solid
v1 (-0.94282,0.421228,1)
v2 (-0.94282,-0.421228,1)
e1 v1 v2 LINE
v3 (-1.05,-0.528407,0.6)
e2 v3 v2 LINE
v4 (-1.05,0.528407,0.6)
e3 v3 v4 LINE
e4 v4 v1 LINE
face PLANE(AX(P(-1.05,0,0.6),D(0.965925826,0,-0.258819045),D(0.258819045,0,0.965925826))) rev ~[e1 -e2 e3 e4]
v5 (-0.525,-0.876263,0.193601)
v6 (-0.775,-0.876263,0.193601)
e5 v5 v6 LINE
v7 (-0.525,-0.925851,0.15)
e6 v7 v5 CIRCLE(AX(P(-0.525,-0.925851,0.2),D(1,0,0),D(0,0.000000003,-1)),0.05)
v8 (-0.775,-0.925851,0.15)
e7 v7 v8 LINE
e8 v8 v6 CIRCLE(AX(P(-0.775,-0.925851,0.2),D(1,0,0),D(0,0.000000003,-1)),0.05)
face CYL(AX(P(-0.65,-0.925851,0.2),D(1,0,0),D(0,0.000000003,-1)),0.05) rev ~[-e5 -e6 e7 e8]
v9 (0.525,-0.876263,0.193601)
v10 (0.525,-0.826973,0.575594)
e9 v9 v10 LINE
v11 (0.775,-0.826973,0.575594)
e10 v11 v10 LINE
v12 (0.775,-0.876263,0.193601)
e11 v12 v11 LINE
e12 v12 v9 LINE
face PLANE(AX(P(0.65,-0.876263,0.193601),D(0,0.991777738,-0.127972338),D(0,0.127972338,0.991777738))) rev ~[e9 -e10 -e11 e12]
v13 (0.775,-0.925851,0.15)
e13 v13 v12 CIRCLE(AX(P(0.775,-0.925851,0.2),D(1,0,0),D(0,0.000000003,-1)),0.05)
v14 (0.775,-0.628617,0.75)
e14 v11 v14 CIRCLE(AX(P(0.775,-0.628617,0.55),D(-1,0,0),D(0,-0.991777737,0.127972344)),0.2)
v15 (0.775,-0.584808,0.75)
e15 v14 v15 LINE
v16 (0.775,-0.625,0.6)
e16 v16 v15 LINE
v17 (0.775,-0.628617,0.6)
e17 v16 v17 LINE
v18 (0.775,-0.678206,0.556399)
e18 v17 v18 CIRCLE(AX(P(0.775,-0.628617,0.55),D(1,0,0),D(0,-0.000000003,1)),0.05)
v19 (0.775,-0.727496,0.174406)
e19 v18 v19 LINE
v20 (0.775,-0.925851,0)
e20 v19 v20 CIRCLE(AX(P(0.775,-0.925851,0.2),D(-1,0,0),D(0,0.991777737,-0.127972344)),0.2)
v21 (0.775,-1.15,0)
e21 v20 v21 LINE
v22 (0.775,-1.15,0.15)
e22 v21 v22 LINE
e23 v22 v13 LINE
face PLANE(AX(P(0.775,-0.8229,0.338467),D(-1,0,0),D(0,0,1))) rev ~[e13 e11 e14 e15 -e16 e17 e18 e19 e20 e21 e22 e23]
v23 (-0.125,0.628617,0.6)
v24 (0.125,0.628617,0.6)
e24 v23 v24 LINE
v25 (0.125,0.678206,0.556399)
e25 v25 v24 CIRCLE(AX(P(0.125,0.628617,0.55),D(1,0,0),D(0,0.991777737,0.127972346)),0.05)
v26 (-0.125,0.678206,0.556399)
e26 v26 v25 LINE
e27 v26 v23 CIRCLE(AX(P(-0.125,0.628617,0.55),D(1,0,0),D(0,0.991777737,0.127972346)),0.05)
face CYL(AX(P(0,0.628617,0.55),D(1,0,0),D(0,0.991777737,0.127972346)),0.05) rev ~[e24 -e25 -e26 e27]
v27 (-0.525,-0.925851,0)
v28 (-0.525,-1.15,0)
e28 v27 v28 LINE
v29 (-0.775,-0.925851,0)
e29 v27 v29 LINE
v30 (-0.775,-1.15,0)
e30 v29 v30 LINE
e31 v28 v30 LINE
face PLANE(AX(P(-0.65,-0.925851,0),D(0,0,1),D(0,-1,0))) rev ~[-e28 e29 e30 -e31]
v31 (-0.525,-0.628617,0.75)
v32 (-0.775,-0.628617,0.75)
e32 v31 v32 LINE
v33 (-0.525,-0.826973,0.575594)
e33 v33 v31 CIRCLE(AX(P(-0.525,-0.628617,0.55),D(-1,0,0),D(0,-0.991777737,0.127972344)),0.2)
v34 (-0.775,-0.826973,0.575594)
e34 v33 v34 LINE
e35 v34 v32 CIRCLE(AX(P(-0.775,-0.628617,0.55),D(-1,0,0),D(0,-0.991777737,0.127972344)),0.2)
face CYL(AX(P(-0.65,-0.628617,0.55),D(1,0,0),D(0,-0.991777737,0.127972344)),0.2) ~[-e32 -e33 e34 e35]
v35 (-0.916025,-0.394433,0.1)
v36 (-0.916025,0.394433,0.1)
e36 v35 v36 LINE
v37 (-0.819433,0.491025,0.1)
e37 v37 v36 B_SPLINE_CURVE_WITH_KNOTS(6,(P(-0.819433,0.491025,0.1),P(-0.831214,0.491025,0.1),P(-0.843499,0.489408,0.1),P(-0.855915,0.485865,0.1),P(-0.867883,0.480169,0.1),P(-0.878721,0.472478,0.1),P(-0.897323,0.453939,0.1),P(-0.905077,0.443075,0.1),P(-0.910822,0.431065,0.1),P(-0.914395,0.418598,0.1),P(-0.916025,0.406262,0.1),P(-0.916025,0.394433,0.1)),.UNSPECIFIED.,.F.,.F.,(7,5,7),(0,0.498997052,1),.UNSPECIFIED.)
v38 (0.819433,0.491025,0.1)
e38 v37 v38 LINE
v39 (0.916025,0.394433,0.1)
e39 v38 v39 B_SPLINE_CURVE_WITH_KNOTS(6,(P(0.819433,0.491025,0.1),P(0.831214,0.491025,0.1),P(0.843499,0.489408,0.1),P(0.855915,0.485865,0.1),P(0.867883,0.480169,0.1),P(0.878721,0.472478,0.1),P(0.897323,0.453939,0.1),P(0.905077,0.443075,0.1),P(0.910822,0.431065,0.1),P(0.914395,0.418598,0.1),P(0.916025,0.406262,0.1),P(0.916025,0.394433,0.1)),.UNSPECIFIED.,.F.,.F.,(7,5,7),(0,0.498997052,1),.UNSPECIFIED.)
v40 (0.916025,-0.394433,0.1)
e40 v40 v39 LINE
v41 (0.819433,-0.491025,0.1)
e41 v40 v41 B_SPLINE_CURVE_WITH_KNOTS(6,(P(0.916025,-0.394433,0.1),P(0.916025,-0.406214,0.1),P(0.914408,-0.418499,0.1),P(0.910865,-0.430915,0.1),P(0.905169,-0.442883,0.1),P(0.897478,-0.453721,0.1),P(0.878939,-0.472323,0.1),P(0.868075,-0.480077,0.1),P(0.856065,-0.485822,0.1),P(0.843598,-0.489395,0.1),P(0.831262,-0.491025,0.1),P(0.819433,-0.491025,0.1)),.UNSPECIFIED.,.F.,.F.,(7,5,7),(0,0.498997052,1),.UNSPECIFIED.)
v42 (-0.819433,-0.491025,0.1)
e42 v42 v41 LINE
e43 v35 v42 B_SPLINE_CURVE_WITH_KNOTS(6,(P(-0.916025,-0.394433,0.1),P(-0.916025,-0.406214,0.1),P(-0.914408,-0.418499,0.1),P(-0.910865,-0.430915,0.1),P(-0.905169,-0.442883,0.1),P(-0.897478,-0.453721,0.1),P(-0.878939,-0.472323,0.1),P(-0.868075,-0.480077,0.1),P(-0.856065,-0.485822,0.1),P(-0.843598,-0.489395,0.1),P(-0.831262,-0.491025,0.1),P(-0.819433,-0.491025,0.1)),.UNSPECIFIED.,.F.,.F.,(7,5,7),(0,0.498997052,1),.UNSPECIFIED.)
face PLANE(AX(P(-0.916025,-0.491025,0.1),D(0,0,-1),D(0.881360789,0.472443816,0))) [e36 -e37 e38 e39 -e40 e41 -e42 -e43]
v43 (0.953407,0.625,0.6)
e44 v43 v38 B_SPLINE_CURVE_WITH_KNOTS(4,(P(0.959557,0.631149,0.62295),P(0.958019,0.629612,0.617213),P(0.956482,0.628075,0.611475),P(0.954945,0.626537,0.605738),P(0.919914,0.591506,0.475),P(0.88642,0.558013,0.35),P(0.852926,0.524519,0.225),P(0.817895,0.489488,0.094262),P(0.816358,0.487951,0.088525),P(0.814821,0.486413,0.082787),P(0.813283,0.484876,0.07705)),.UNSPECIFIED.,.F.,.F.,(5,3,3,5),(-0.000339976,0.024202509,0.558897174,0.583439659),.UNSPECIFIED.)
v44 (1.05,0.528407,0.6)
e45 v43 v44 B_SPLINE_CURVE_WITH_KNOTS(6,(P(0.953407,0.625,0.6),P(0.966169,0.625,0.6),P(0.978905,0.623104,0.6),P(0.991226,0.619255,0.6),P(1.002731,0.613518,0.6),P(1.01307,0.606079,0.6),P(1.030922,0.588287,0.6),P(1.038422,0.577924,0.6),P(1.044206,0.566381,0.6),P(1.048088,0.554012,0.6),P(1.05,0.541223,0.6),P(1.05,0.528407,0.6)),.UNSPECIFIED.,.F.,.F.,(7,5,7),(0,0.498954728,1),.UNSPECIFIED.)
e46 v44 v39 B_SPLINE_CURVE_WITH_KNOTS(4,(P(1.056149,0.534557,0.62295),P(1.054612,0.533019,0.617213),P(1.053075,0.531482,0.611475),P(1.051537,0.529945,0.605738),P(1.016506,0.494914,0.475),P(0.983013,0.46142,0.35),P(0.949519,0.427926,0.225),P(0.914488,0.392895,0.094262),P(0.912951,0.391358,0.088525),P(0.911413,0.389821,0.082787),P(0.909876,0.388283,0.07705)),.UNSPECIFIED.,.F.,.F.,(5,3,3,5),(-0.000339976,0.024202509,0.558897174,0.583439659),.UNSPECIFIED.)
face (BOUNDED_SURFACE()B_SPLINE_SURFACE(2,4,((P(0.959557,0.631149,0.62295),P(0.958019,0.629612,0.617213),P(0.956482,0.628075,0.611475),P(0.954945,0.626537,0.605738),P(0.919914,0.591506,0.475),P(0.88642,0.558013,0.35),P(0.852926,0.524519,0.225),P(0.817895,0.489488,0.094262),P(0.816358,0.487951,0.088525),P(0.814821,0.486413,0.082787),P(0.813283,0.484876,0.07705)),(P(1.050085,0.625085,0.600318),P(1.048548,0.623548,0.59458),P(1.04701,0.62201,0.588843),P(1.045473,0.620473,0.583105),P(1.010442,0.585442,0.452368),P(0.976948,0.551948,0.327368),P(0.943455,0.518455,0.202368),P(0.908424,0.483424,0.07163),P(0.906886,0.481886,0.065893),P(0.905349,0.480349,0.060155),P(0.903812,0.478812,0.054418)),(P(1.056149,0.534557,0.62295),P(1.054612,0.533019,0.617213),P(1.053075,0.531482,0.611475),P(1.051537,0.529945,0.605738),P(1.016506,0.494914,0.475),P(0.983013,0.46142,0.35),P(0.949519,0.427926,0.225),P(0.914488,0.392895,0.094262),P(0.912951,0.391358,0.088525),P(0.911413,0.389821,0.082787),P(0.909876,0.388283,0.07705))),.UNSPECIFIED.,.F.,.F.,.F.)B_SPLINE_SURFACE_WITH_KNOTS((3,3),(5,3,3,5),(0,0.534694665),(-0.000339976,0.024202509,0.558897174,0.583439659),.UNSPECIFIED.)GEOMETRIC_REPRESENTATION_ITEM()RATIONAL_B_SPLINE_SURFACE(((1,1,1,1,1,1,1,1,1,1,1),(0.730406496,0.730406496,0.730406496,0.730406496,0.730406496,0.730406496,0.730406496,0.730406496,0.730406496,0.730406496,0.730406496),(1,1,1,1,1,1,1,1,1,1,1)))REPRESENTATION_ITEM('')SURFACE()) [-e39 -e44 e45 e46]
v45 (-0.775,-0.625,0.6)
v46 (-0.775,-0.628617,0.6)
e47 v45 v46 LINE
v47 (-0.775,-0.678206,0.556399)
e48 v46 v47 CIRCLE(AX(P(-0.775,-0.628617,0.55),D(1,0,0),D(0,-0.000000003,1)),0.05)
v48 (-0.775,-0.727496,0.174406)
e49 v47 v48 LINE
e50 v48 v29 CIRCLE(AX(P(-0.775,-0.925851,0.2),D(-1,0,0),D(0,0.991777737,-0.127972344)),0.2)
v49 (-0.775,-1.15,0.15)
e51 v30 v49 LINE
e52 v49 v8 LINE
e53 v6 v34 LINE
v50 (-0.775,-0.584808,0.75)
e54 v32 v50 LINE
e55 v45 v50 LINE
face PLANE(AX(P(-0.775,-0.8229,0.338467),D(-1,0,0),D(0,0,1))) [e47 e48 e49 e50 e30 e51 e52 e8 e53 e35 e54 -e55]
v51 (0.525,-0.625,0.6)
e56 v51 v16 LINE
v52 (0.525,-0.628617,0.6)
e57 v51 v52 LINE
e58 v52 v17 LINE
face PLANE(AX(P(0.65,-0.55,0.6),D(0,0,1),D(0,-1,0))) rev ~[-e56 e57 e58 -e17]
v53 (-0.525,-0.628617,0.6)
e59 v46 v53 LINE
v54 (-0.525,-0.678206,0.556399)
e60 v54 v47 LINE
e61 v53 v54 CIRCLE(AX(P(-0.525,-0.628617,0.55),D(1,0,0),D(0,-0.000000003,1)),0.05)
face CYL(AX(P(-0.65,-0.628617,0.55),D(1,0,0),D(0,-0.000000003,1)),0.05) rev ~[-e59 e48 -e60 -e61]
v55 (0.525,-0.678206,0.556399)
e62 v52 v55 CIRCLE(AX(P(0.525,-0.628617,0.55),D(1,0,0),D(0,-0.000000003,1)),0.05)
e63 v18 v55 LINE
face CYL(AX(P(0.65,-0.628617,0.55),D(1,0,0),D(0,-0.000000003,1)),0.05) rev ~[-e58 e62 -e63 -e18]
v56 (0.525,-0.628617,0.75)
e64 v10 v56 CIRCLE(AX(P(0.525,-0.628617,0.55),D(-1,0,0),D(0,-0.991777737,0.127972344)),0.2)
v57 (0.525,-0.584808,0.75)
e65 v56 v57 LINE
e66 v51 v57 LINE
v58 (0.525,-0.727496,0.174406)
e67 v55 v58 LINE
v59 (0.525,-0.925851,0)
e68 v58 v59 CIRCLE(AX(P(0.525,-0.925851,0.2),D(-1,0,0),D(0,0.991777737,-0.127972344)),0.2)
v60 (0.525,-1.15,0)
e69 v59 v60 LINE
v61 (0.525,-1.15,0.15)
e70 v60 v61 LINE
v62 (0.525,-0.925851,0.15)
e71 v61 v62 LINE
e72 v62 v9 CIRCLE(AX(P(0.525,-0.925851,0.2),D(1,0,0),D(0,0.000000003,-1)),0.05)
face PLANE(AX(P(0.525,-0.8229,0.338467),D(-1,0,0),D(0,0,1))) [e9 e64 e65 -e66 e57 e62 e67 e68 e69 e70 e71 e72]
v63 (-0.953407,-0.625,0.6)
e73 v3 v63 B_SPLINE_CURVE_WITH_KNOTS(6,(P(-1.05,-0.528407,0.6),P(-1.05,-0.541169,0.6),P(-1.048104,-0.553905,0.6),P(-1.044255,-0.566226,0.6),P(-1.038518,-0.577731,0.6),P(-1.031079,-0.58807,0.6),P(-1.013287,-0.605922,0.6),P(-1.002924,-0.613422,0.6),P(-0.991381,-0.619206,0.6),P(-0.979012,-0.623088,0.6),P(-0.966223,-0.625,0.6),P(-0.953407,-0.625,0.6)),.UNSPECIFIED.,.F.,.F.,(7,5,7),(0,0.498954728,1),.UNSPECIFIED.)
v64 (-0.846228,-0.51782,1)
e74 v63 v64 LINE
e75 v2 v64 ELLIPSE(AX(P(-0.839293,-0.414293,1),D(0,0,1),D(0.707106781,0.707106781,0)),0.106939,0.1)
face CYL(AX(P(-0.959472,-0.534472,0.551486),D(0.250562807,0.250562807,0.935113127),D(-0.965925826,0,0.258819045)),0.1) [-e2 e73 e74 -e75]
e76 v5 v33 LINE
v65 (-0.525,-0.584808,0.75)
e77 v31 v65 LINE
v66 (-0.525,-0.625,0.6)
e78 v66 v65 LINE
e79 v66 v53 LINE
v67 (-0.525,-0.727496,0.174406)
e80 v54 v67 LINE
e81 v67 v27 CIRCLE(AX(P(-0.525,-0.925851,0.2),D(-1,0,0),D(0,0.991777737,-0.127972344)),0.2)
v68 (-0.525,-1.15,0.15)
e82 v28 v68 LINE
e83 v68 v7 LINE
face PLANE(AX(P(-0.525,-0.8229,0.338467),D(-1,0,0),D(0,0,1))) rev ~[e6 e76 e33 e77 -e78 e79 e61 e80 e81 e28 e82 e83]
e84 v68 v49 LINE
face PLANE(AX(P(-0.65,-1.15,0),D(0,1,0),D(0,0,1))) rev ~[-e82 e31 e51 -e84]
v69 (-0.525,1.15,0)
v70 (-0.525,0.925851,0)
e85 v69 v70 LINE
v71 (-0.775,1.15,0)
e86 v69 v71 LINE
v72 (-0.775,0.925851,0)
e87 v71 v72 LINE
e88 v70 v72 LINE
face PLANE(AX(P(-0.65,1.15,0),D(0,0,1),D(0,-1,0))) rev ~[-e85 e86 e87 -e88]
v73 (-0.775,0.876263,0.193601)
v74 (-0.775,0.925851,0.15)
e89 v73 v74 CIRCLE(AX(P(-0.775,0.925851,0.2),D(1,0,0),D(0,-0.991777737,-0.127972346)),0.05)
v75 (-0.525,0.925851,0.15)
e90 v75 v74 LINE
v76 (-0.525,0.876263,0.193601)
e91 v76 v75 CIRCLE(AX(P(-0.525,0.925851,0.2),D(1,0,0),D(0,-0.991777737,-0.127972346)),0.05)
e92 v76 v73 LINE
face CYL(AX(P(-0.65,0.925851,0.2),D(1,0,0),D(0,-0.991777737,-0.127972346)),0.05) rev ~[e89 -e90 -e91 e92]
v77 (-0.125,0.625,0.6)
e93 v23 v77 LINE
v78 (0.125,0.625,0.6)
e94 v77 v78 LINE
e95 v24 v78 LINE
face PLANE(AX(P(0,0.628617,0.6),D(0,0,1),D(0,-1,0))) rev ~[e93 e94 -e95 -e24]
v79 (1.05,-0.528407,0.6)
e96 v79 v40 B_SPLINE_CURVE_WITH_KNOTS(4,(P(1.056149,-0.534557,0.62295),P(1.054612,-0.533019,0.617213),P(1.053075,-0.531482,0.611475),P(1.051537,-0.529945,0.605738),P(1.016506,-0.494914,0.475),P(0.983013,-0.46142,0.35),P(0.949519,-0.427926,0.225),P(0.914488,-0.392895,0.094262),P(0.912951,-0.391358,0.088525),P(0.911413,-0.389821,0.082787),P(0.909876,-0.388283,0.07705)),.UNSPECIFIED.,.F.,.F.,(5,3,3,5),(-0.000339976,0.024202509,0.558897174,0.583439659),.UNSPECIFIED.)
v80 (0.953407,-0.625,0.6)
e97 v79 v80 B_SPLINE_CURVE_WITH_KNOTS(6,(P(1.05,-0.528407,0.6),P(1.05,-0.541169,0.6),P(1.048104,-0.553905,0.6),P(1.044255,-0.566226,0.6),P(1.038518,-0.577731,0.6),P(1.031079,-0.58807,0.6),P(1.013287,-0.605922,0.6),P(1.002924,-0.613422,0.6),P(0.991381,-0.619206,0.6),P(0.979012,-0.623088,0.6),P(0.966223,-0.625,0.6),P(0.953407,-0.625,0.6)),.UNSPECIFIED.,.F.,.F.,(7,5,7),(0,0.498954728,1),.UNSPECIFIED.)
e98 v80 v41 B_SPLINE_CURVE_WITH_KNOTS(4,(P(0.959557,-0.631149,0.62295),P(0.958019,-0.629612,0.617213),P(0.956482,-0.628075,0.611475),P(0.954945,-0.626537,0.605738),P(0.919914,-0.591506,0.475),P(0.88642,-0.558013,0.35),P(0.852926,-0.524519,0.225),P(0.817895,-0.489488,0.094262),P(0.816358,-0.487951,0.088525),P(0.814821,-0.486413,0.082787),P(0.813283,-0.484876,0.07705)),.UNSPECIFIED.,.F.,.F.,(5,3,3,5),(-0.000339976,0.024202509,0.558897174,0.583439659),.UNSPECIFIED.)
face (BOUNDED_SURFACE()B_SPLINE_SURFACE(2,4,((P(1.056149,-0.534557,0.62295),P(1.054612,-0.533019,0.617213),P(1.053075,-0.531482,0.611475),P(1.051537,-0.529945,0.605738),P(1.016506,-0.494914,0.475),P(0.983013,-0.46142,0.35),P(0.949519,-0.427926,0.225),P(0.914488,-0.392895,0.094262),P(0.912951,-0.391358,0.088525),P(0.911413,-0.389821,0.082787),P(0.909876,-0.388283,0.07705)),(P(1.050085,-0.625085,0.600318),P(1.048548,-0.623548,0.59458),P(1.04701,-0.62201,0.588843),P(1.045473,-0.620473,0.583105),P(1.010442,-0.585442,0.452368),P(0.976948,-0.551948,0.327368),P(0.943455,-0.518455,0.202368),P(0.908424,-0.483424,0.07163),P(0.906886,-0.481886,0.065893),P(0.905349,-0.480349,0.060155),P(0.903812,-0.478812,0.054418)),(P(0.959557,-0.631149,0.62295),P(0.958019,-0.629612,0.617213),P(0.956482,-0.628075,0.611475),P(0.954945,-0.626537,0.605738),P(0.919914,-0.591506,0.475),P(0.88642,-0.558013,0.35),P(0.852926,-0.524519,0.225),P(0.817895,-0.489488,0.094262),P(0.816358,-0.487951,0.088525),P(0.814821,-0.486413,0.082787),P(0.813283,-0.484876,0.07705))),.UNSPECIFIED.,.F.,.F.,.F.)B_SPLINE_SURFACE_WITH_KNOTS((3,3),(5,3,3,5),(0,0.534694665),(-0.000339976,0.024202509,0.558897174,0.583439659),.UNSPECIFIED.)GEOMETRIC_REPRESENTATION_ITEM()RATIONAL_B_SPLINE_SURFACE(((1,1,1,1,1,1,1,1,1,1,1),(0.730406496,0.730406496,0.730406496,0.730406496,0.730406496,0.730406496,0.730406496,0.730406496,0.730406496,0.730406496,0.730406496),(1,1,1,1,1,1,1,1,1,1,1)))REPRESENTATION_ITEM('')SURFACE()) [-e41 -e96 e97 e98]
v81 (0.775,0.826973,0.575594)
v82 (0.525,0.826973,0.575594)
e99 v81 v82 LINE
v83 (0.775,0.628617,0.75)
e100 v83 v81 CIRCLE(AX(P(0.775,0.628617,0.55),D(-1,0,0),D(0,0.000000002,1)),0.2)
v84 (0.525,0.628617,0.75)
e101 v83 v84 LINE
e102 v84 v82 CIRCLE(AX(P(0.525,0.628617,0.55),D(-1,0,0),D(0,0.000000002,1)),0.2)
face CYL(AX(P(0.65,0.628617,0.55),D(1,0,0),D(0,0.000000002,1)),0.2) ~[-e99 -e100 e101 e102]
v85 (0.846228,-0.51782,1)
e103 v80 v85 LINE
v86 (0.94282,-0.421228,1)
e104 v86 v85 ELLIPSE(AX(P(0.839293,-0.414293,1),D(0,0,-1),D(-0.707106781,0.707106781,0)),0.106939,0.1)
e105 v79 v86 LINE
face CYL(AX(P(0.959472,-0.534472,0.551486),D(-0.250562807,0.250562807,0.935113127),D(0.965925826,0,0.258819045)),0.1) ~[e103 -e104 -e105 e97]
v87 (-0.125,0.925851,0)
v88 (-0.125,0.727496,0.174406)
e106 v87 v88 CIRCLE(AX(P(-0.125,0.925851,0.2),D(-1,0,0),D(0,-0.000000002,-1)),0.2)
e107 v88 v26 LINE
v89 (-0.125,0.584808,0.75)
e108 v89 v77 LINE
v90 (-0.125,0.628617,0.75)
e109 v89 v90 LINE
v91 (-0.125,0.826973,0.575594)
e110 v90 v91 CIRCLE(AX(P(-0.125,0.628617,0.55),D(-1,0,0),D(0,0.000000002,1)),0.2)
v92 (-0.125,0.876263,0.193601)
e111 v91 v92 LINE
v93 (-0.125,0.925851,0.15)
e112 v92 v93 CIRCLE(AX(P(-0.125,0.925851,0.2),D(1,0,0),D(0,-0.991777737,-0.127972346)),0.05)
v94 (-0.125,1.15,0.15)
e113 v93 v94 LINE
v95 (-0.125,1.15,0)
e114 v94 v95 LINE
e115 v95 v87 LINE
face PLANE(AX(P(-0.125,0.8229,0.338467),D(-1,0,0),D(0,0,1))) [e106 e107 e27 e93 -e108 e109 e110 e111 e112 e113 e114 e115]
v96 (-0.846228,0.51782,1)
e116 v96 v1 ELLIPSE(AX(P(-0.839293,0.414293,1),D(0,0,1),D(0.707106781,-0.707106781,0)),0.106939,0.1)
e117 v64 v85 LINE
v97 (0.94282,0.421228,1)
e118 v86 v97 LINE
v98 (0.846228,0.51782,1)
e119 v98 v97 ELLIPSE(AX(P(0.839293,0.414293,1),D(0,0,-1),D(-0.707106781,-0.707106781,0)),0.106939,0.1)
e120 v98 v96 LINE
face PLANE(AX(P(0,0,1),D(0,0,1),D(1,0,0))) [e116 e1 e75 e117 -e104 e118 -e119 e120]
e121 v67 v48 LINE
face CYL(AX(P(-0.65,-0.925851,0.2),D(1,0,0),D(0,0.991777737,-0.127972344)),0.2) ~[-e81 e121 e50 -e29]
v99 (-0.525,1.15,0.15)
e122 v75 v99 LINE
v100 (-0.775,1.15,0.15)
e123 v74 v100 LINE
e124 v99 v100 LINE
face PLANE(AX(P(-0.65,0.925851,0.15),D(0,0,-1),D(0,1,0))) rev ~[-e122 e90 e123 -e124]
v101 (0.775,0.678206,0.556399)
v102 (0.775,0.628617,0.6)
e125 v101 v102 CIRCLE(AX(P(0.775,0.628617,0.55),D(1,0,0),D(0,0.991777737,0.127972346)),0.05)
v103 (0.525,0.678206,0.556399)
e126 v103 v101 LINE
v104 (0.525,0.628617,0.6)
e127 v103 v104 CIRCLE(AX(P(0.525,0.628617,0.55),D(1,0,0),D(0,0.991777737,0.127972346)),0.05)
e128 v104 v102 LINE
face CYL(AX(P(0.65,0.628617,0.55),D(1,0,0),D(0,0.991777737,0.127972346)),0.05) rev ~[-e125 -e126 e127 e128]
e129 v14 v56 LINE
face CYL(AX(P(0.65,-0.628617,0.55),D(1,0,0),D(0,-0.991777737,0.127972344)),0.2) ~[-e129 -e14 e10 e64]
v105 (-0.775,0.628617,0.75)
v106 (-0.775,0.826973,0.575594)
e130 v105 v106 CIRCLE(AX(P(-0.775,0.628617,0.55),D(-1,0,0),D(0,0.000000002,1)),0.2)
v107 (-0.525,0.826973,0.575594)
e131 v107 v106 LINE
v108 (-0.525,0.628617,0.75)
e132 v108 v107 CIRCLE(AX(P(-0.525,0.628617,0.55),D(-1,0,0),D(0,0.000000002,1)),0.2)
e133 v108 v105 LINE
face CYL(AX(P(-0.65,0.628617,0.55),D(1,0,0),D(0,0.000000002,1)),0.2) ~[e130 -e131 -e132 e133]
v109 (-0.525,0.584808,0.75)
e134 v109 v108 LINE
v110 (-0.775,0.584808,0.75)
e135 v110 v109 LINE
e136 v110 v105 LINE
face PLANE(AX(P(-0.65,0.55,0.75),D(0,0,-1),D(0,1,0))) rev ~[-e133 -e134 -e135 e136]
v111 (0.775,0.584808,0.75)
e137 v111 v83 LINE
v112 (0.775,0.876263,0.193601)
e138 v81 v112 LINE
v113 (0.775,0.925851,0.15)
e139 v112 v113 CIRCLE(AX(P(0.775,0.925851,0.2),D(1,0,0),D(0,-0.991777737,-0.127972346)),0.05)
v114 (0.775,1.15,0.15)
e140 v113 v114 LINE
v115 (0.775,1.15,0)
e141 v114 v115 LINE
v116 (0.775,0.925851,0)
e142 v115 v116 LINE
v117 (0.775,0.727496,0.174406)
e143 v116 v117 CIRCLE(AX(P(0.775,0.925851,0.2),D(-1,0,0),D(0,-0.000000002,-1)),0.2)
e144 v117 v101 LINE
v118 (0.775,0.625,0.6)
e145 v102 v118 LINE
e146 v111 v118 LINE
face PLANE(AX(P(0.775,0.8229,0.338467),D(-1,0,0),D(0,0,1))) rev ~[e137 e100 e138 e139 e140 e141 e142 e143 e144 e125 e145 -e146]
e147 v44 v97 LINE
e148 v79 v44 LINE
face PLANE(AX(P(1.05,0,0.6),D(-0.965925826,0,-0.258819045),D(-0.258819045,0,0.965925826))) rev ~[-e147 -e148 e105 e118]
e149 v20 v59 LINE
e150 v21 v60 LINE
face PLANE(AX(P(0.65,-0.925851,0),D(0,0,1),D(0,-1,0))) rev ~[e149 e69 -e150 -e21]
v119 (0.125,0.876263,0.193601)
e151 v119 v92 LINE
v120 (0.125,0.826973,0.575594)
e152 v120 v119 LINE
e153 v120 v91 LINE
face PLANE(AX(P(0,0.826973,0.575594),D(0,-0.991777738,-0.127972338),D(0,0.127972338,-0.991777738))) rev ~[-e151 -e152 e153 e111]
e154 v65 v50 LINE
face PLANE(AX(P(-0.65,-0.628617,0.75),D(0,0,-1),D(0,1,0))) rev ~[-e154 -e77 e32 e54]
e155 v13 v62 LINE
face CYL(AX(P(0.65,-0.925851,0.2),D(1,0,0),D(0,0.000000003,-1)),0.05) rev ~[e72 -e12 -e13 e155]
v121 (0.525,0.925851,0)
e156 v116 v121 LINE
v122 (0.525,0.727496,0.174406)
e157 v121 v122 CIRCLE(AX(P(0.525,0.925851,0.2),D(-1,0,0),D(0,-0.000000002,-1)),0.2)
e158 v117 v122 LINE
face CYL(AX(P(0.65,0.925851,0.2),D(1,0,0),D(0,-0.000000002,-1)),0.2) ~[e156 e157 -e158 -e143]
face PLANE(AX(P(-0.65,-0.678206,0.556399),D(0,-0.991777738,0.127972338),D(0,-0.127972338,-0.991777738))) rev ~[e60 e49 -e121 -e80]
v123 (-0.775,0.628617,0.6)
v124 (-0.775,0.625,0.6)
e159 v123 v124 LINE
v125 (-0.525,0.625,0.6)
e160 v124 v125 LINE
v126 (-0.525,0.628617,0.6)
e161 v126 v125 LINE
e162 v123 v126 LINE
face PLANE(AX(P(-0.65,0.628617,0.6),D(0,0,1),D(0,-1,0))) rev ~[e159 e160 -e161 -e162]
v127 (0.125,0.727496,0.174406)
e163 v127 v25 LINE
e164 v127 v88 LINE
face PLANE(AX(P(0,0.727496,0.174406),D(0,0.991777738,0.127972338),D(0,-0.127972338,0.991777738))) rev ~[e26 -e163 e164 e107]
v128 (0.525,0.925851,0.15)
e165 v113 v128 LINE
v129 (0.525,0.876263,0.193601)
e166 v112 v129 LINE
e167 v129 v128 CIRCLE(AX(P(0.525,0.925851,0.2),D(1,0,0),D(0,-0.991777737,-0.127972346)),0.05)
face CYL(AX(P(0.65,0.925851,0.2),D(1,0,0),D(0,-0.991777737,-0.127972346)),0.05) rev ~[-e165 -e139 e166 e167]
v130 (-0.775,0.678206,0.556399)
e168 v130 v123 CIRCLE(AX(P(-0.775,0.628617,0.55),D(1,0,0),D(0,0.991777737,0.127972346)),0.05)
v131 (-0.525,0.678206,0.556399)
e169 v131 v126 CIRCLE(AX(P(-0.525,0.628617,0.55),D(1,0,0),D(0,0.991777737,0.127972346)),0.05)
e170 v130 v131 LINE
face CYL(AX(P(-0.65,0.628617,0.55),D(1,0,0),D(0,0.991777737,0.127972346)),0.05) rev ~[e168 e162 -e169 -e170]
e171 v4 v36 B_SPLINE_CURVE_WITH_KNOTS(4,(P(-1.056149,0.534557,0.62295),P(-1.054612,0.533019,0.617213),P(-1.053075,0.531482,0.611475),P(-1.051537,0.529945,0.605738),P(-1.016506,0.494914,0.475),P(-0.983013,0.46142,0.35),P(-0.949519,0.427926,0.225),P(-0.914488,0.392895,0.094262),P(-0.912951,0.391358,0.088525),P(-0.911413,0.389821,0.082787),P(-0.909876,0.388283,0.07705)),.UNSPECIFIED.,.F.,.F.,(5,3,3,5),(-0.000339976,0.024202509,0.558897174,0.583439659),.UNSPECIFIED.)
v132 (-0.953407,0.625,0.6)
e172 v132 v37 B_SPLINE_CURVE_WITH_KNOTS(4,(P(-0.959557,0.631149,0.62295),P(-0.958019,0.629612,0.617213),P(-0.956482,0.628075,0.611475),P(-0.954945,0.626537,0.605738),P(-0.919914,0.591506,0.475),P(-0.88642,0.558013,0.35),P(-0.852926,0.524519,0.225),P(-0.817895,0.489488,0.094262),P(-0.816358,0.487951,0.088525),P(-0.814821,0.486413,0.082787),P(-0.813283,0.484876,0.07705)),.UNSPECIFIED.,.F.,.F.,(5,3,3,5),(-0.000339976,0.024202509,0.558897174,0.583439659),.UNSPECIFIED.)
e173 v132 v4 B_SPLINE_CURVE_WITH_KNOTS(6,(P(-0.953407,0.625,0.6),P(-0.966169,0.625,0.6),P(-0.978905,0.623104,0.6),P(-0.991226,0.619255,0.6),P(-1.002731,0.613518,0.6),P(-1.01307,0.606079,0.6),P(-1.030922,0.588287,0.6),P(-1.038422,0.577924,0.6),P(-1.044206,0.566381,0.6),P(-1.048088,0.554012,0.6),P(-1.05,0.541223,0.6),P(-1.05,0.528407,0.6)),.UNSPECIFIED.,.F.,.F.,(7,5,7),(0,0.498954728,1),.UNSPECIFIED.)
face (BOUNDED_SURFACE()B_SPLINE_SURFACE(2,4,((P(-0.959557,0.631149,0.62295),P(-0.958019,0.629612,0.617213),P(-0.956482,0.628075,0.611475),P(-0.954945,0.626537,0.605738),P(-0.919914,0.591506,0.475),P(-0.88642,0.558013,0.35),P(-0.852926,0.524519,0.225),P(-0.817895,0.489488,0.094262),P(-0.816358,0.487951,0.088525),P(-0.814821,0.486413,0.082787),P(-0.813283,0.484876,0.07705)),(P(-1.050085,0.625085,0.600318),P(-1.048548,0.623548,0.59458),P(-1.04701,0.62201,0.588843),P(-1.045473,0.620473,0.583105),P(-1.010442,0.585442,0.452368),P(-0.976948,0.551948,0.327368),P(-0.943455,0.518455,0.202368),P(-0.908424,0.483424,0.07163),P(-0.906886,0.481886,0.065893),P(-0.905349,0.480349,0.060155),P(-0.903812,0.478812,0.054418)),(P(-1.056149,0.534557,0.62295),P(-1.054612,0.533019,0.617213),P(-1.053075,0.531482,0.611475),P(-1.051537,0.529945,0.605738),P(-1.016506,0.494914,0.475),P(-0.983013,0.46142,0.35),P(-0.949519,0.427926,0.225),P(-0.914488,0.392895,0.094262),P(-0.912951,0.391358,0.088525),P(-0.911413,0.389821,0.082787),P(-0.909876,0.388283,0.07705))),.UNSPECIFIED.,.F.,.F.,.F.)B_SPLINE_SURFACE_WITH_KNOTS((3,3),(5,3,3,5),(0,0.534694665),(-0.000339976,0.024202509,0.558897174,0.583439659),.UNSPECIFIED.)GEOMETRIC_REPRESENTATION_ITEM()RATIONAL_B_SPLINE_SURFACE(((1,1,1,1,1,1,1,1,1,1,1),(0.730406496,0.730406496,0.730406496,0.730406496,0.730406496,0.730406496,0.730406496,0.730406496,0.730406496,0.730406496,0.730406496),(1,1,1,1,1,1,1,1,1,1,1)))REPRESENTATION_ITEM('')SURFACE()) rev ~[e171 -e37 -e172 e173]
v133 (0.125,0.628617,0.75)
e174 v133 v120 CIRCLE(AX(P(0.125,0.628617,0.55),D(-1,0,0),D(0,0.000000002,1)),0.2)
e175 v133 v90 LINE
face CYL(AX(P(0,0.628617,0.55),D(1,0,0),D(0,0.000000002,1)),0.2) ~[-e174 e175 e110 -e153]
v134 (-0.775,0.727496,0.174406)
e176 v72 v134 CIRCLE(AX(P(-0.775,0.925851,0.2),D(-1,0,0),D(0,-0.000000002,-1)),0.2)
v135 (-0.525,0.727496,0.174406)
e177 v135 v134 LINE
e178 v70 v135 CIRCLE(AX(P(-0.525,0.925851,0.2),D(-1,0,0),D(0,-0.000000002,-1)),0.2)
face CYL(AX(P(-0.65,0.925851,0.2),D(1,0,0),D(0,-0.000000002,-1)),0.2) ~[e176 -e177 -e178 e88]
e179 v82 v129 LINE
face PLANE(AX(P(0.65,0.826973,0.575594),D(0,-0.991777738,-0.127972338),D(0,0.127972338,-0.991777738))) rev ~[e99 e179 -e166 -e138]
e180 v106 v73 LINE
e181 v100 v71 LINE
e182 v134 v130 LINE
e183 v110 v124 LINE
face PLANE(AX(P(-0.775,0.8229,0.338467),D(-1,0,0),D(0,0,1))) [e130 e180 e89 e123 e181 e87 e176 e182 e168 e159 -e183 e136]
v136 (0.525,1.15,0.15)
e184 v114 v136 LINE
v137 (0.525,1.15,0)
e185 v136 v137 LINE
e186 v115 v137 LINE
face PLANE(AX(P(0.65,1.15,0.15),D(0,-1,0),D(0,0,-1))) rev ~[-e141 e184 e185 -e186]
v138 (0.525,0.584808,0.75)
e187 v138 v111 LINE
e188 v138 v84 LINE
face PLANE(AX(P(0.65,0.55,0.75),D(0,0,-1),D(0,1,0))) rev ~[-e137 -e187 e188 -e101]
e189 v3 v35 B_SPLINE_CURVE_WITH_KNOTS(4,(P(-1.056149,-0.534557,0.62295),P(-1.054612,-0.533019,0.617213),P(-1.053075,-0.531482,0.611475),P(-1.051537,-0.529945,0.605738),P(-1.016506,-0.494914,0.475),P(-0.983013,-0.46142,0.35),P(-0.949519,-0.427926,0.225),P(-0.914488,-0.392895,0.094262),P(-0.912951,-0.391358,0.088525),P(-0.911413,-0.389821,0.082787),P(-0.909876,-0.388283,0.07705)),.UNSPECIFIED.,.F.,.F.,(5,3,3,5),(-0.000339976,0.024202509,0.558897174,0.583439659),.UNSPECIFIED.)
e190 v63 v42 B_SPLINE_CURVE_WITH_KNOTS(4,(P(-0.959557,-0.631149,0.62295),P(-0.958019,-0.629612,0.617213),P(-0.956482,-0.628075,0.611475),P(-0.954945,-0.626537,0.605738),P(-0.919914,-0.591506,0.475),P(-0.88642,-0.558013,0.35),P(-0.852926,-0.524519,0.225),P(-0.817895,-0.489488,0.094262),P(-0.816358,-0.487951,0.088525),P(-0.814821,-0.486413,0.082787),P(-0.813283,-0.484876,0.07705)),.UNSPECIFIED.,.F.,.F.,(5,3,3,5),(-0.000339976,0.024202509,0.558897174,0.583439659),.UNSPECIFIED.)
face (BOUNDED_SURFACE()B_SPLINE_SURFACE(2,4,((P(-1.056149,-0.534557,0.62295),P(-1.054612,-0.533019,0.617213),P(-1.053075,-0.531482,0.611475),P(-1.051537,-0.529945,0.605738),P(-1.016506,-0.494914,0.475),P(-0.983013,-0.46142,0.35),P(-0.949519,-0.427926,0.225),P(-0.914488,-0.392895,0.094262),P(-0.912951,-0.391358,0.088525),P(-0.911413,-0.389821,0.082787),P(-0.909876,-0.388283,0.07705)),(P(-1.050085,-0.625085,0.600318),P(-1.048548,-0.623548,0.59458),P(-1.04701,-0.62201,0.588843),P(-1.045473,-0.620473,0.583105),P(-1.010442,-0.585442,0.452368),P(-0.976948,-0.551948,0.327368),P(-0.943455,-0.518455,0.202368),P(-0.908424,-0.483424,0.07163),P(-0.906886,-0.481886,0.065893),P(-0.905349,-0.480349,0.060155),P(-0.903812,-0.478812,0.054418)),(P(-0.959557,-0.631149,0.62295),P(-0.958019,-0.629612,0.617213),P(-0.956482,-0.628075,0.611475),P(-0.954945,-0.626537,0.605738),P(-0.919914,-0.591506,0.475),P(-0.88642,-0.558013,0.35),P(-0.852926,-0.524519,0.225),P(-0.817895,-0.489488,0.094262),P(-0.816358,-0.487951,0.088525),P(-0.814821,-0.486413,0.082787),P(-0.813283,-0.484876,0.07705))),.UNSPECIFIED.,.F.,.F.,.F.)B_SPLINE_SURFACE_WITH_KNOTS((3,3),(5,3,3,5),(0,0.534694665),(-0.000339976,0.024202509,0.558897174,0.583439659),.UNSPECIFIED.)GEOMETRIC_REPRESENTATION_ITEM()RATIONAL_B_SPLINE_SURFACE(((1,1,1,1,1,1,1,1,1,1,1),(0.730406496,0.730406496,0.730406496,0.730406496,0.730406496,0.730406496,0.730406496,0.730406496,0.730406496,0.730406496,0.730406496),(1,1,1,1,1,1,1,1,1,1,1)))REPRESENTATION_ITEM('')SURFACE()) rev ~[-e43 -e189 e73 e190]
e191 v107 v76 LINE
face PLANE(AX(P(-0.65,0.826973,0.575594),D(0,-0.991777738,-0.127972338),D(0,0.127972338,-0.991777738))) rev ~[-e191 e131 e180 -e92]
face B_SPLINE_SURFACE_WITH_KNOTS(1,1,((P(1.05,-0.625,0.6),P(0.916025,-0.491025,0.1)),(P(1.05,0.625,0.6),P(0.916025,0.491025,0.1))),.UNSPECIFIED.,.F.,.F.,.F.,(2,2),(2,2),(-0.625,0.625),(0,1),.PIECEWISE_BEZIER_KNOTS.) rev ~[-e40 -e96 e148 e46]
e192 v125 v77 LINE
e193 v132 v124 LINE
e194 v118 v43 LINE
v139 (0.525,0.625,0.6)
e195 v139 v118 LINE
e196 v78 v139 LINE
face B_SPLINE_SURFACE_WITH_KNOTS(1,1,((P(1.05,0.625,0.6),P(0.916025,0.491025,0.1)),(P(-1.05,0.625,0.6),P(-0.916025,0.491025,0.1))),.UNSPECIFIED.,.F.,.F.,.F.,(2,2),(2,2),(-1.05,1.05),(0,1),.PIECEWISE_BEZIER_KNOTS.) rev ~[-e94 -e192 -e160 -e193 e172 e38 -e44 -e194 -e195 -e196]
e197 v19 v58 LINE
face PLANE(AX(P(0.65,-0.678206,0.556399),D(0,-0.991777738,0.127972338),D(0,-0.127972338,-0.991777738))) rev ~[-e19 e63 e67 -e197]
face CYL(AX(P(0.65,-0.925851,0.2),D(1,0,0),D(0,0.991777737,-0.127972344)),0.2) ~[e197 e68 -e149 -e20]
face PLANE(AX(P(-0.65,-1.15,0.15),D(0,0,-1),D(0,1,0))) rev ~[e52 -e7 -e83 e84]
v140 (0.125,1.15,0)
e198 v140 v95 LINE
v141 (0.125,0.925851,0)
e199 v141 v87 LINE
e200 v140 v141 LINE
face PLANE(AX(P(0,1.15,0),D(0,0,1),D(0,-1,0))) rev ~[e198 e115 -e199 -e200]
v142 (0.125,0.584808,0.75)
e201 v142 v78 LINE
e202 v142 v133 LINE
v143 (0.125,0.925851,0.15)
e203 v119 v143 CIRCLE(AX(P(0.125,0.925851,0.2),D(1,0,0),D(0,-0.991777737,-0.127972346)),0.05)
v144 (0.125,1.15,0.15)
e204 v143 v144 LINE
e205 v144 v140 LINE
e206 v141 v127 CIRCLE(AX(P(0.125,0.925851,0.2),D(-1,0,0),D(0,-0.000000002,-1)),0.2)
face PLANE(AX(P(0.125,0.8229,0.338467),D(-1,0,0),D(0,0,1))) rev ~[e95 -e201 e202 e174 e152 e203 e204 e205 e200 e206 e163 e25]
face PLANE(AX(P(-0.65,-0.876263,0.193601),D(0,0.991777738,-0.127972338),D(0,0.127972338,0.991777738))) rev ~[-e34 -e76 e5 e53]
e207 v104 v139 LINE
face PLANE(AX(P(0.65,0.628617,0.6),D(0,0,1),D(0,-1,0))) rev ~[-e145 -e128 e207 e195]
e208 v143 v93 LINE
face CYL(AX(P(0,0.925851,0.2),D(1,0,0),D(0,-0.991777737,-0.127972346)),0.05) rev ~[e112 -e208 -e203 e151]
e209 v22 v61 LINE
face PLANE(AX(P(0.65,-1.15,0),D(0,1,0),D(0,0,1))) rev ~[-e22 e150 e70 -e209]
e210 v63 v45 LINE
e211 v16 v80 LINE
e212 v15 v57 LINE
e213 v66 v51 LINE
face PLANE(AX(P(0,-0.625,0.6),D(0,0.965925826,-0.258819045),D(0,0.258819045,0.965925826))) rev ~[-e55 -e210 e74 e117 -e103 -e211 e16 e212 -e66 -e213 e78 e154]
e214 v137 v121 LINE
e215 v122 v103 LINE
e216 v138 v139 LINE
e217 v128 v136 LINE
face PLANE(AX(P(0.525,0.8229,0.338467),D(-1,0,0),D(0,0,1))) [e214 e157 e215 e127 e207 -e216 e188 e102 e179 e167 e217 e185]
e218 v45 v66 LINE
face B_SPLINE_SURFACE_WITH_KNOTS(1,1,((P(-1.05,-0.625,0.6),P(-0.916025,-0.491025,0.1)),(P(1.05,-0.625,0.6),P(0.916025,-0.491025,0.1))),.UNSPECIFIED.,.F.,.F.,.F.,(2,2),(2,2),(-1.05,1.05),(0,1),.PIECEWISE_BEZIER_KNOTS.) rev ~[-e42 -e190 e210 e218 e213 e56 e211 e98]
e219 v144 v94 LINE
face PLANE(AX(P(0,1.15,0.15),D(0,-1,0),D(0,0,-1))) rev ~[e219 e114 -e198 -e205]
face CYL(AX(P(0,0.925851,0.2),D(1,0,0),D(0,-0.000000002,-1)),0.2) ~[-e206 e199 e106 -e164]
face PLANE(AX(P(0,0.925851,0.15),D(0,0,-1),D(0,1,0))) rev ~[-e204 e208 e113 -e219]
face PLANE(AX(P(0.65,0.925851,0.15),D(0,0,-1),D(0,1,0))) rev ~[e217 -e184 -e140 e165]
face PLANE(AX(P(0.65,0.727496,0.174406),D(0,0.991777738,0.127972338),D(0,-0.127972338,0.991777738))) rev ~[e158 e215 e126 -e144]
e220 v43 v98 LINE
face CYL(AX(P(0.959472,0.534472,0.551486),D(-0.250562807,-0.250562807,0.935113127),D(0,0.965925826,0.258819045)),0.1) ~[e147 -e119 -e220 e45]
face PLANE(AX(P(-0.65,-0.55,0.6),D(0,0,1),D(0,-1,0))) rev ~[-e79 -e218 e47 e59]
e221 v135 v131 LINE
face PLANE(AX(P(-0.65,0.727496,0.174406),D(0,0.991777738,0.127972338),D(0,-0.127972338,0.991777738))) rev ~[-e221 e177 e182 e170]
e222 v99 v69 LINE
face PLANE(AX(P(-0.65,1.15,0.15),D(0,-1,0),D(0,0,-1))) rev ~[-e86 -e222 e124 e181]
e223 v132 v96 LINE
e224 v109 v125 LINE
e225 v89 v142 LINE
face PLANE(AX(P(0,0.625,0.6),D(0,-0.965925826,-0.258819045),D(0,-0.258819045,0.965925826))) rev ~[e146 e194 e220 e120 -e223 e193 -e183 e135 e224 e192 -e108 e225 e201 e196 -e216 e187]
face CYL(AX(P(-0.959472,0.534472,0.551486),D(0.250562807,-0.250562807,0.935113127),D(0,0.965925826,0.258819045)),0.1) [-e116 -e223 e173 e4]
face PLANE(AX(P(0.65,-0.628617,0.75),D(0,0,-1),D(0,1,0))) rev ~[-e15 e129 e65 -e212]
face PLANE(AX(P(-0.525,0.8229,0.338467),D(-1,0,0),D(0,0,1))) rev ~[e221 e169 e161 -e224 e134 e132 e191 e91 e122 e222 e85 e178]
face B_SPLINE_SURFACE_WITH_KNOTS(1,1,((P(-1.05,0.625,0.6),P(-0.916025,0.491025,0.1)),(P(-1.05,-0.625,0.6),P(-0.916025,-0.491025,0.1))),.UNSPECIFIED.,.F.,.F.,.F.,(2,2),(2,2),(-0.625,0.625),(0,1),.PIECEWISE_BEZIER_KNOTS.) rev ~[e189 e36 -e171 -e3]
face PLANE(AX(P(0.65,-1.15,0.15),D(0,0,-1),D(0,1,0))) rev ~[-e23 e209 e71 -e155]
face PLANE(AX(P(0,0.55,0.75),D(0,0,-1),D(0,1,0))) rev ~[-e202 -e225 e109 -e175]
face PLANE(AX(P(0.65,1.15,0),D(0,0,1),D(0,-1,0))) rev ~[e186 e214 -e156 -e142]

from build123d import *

# Parameters (mm, degrees)
EXTRUDE_START             = 0.6
SKETCH_1_W                = 2.1
SKETCH_1_H                = 1.25
EXTRUDE_1_DEPTH           = 0.4
EXTRUDE_1_TAPER           = 15
EXTRUDE_1_OTHER_WAY_DEPTH = 0.5
EXTRUDE_1_OTHER_WAY_TAPER = 15
EXTRUDE_START_2           = 0.65
EXTRUDE_4_DEPTH           = 0.125
EXTRUDE_5_DEPTH           = 0.125
PATTERN_LINEAR_2_COUNT    = 2
PATTERN_LINEAR_2_PITCH    = 1.3
PATTERN_LINEAR_3_COUNT    = 3
PATTERN_LINEAR_3_PITCH    = 0.65
FILLET_3_R                = 0.1


with BuildPart() as part:
    # Эскиз1 → Вытянуть1 (new body)
    with BuildSketch(Plane.XY.offset(EXTRUDE_START)):
        Rectangle(SKETCH_1_W, SKETCH_1_H)
    extrude(amount=EXTRUDE_1_DEPTH, taper=EXTRUDE_1_TAPER)

    # Эскиз1 → Вытянуть1 other way (add)
    with BuildSketch(Plane.XY.offset(EXTRUDE_START)):
        Rectangle(SKETCH_1_W, SKETCH_1_H)
    extrude(amount=-EXTRUDE_1_OTHER_WAY_DEPTH, taper=EXTRUDE_1_OTHER_WAY_TAPER)

    # Эскиз2 → Вытянуть4 (add, symmetric)
    with BuildSketch(Plane(origin=(0, 0, 0), x_dir=(0, 0, -1), z_dir=(1, 0, 0)).offset(EXTRUDE_START_2)):
        with BuildLine():
            Line((-0.6, 0.55), (-0.75, 0.55))
            Line((-0.75, 0.55), (-0.75, 0.628617172))
            ThreePointArc((-0.75, 0.628617172), (-0.700198025, 0.760679859), (-0.575594468, 0.82697272))
            Line((-0.575594468, 0.82697272), (-0.193601383, 0.876262542))
            ThreePointArc((-0.193601383, 0.876262542), (-0.162450494, 0.892835757), (-0.15, 0.925851429))
            Line((-0.15, 0.925851429), (-0.15, 1.15))
            Line((-0.15, 1.15), (0, 1.15))
            Line((0, 1.15), (0, 0.925851429))
            ThreePointArc((0, 0.925851429), (-0.049801975, 0.793788742), (-0.174405532, 0.727495881))
            Line((-0.174405532, 0.727495881), (-0.556398617, 0.678206059))
            ThreePointArc((-0.556398617, 0.678206059), (-0.587549506, 0.661632844), (-0.6, 0.628617172))
            Line((-0.6, 0.628617172), (-0.6, 0.55))
        make_face()
    extrude_4 = extrude(amount=EXTRUDE_4_DEPTH, both=True)

    # Эскиз2<4> → Вытянуть5 (add, symmetric)
    with BuildSketch(Plane(origin=(0, 0, 0), x_dir=(0, 0, -1), z_dir=(1, 0, 0)).offset(EXTRUDE_START_2)):
        with BuildLine():
            ThreePointArc((-0.6, -0.628617172), (-0.587549506, -0.661632844), (-0.556398617, -0.678206059))
            Line((-0.556398617, -0.678206059), (-0.174405532, -0.727495881))
            ThreePointArc((-0.174405532, -0.727495881), (-0.049801975, -0.793788742), (0, -0.925851429))
            Line((0, -0.925851429), (0, -1.15))
            Line((0, -1.15), (-0.15, -1.15))
            Line((-0.15, -1.15), (-0.15, -0.925851429))
            ThreePointArc((-0.15, -0.925851429), (-0.162450494, -0.892835757), (-0.193601383, -0.876262542))
            Line((-0.193601383, -0.876262542), (-0.575594468, -0.82697272))
            ThreePointArc((-0.575594468, -0.82697272), (-0.700198025, -0.760679859), (-0.75, -0.628617172))
            Line((-0.75, -0.628617172), (-0.75, -0.55))
            Line((-0.75, -0.55), (-0.6, -0.55))
            Line((-0.6, -0.55), (-0.6, -0.628617172))
        make_face()
    extrude_5 = extrude(amount=EXTRUDE_5_DEPTH, both=True)

    # Линейный массив2: Вытянуть5 ×2
    with Locations(*[(-i * PATTERN_LINEAR_2_PITCH, 0, 0) for i in range(1, PATTERN_LINEAR_2_COUNT)]):
        add(extrude_5)

    # Линейный массив3: Вытянуть4 ×3
    with Locations(*[(-i * PATTERN_LINEAR_3_PITCH, 0, 0) for i in range(1, PATTERN_LINEAR_3_COUNT)]):
        add(extrude_4)

    # Скругление3
    fillet_3_edges = [part.edges().sort_by_distance(p)[0] for p in [
        (0.996410162, -0.571410162, 0.8),
        (0.996410162, 0.571410162, 0.8),
        (-0.996410162, 0.571410162, 0.8),
        (-0.996410162, -0.571410162, 0.8),
        (0.983012702, -0.558012702, 0.35),
        (-0.983012702, -0.558012702, 0.35),
        (-0.983012702, 0.558012702, 0.35),
        (0.983012702, 0.558012702, 0.35),
    ]]
    fillet(fillet_3_edges, radius=FILLET_3_R)


solid = part.part
